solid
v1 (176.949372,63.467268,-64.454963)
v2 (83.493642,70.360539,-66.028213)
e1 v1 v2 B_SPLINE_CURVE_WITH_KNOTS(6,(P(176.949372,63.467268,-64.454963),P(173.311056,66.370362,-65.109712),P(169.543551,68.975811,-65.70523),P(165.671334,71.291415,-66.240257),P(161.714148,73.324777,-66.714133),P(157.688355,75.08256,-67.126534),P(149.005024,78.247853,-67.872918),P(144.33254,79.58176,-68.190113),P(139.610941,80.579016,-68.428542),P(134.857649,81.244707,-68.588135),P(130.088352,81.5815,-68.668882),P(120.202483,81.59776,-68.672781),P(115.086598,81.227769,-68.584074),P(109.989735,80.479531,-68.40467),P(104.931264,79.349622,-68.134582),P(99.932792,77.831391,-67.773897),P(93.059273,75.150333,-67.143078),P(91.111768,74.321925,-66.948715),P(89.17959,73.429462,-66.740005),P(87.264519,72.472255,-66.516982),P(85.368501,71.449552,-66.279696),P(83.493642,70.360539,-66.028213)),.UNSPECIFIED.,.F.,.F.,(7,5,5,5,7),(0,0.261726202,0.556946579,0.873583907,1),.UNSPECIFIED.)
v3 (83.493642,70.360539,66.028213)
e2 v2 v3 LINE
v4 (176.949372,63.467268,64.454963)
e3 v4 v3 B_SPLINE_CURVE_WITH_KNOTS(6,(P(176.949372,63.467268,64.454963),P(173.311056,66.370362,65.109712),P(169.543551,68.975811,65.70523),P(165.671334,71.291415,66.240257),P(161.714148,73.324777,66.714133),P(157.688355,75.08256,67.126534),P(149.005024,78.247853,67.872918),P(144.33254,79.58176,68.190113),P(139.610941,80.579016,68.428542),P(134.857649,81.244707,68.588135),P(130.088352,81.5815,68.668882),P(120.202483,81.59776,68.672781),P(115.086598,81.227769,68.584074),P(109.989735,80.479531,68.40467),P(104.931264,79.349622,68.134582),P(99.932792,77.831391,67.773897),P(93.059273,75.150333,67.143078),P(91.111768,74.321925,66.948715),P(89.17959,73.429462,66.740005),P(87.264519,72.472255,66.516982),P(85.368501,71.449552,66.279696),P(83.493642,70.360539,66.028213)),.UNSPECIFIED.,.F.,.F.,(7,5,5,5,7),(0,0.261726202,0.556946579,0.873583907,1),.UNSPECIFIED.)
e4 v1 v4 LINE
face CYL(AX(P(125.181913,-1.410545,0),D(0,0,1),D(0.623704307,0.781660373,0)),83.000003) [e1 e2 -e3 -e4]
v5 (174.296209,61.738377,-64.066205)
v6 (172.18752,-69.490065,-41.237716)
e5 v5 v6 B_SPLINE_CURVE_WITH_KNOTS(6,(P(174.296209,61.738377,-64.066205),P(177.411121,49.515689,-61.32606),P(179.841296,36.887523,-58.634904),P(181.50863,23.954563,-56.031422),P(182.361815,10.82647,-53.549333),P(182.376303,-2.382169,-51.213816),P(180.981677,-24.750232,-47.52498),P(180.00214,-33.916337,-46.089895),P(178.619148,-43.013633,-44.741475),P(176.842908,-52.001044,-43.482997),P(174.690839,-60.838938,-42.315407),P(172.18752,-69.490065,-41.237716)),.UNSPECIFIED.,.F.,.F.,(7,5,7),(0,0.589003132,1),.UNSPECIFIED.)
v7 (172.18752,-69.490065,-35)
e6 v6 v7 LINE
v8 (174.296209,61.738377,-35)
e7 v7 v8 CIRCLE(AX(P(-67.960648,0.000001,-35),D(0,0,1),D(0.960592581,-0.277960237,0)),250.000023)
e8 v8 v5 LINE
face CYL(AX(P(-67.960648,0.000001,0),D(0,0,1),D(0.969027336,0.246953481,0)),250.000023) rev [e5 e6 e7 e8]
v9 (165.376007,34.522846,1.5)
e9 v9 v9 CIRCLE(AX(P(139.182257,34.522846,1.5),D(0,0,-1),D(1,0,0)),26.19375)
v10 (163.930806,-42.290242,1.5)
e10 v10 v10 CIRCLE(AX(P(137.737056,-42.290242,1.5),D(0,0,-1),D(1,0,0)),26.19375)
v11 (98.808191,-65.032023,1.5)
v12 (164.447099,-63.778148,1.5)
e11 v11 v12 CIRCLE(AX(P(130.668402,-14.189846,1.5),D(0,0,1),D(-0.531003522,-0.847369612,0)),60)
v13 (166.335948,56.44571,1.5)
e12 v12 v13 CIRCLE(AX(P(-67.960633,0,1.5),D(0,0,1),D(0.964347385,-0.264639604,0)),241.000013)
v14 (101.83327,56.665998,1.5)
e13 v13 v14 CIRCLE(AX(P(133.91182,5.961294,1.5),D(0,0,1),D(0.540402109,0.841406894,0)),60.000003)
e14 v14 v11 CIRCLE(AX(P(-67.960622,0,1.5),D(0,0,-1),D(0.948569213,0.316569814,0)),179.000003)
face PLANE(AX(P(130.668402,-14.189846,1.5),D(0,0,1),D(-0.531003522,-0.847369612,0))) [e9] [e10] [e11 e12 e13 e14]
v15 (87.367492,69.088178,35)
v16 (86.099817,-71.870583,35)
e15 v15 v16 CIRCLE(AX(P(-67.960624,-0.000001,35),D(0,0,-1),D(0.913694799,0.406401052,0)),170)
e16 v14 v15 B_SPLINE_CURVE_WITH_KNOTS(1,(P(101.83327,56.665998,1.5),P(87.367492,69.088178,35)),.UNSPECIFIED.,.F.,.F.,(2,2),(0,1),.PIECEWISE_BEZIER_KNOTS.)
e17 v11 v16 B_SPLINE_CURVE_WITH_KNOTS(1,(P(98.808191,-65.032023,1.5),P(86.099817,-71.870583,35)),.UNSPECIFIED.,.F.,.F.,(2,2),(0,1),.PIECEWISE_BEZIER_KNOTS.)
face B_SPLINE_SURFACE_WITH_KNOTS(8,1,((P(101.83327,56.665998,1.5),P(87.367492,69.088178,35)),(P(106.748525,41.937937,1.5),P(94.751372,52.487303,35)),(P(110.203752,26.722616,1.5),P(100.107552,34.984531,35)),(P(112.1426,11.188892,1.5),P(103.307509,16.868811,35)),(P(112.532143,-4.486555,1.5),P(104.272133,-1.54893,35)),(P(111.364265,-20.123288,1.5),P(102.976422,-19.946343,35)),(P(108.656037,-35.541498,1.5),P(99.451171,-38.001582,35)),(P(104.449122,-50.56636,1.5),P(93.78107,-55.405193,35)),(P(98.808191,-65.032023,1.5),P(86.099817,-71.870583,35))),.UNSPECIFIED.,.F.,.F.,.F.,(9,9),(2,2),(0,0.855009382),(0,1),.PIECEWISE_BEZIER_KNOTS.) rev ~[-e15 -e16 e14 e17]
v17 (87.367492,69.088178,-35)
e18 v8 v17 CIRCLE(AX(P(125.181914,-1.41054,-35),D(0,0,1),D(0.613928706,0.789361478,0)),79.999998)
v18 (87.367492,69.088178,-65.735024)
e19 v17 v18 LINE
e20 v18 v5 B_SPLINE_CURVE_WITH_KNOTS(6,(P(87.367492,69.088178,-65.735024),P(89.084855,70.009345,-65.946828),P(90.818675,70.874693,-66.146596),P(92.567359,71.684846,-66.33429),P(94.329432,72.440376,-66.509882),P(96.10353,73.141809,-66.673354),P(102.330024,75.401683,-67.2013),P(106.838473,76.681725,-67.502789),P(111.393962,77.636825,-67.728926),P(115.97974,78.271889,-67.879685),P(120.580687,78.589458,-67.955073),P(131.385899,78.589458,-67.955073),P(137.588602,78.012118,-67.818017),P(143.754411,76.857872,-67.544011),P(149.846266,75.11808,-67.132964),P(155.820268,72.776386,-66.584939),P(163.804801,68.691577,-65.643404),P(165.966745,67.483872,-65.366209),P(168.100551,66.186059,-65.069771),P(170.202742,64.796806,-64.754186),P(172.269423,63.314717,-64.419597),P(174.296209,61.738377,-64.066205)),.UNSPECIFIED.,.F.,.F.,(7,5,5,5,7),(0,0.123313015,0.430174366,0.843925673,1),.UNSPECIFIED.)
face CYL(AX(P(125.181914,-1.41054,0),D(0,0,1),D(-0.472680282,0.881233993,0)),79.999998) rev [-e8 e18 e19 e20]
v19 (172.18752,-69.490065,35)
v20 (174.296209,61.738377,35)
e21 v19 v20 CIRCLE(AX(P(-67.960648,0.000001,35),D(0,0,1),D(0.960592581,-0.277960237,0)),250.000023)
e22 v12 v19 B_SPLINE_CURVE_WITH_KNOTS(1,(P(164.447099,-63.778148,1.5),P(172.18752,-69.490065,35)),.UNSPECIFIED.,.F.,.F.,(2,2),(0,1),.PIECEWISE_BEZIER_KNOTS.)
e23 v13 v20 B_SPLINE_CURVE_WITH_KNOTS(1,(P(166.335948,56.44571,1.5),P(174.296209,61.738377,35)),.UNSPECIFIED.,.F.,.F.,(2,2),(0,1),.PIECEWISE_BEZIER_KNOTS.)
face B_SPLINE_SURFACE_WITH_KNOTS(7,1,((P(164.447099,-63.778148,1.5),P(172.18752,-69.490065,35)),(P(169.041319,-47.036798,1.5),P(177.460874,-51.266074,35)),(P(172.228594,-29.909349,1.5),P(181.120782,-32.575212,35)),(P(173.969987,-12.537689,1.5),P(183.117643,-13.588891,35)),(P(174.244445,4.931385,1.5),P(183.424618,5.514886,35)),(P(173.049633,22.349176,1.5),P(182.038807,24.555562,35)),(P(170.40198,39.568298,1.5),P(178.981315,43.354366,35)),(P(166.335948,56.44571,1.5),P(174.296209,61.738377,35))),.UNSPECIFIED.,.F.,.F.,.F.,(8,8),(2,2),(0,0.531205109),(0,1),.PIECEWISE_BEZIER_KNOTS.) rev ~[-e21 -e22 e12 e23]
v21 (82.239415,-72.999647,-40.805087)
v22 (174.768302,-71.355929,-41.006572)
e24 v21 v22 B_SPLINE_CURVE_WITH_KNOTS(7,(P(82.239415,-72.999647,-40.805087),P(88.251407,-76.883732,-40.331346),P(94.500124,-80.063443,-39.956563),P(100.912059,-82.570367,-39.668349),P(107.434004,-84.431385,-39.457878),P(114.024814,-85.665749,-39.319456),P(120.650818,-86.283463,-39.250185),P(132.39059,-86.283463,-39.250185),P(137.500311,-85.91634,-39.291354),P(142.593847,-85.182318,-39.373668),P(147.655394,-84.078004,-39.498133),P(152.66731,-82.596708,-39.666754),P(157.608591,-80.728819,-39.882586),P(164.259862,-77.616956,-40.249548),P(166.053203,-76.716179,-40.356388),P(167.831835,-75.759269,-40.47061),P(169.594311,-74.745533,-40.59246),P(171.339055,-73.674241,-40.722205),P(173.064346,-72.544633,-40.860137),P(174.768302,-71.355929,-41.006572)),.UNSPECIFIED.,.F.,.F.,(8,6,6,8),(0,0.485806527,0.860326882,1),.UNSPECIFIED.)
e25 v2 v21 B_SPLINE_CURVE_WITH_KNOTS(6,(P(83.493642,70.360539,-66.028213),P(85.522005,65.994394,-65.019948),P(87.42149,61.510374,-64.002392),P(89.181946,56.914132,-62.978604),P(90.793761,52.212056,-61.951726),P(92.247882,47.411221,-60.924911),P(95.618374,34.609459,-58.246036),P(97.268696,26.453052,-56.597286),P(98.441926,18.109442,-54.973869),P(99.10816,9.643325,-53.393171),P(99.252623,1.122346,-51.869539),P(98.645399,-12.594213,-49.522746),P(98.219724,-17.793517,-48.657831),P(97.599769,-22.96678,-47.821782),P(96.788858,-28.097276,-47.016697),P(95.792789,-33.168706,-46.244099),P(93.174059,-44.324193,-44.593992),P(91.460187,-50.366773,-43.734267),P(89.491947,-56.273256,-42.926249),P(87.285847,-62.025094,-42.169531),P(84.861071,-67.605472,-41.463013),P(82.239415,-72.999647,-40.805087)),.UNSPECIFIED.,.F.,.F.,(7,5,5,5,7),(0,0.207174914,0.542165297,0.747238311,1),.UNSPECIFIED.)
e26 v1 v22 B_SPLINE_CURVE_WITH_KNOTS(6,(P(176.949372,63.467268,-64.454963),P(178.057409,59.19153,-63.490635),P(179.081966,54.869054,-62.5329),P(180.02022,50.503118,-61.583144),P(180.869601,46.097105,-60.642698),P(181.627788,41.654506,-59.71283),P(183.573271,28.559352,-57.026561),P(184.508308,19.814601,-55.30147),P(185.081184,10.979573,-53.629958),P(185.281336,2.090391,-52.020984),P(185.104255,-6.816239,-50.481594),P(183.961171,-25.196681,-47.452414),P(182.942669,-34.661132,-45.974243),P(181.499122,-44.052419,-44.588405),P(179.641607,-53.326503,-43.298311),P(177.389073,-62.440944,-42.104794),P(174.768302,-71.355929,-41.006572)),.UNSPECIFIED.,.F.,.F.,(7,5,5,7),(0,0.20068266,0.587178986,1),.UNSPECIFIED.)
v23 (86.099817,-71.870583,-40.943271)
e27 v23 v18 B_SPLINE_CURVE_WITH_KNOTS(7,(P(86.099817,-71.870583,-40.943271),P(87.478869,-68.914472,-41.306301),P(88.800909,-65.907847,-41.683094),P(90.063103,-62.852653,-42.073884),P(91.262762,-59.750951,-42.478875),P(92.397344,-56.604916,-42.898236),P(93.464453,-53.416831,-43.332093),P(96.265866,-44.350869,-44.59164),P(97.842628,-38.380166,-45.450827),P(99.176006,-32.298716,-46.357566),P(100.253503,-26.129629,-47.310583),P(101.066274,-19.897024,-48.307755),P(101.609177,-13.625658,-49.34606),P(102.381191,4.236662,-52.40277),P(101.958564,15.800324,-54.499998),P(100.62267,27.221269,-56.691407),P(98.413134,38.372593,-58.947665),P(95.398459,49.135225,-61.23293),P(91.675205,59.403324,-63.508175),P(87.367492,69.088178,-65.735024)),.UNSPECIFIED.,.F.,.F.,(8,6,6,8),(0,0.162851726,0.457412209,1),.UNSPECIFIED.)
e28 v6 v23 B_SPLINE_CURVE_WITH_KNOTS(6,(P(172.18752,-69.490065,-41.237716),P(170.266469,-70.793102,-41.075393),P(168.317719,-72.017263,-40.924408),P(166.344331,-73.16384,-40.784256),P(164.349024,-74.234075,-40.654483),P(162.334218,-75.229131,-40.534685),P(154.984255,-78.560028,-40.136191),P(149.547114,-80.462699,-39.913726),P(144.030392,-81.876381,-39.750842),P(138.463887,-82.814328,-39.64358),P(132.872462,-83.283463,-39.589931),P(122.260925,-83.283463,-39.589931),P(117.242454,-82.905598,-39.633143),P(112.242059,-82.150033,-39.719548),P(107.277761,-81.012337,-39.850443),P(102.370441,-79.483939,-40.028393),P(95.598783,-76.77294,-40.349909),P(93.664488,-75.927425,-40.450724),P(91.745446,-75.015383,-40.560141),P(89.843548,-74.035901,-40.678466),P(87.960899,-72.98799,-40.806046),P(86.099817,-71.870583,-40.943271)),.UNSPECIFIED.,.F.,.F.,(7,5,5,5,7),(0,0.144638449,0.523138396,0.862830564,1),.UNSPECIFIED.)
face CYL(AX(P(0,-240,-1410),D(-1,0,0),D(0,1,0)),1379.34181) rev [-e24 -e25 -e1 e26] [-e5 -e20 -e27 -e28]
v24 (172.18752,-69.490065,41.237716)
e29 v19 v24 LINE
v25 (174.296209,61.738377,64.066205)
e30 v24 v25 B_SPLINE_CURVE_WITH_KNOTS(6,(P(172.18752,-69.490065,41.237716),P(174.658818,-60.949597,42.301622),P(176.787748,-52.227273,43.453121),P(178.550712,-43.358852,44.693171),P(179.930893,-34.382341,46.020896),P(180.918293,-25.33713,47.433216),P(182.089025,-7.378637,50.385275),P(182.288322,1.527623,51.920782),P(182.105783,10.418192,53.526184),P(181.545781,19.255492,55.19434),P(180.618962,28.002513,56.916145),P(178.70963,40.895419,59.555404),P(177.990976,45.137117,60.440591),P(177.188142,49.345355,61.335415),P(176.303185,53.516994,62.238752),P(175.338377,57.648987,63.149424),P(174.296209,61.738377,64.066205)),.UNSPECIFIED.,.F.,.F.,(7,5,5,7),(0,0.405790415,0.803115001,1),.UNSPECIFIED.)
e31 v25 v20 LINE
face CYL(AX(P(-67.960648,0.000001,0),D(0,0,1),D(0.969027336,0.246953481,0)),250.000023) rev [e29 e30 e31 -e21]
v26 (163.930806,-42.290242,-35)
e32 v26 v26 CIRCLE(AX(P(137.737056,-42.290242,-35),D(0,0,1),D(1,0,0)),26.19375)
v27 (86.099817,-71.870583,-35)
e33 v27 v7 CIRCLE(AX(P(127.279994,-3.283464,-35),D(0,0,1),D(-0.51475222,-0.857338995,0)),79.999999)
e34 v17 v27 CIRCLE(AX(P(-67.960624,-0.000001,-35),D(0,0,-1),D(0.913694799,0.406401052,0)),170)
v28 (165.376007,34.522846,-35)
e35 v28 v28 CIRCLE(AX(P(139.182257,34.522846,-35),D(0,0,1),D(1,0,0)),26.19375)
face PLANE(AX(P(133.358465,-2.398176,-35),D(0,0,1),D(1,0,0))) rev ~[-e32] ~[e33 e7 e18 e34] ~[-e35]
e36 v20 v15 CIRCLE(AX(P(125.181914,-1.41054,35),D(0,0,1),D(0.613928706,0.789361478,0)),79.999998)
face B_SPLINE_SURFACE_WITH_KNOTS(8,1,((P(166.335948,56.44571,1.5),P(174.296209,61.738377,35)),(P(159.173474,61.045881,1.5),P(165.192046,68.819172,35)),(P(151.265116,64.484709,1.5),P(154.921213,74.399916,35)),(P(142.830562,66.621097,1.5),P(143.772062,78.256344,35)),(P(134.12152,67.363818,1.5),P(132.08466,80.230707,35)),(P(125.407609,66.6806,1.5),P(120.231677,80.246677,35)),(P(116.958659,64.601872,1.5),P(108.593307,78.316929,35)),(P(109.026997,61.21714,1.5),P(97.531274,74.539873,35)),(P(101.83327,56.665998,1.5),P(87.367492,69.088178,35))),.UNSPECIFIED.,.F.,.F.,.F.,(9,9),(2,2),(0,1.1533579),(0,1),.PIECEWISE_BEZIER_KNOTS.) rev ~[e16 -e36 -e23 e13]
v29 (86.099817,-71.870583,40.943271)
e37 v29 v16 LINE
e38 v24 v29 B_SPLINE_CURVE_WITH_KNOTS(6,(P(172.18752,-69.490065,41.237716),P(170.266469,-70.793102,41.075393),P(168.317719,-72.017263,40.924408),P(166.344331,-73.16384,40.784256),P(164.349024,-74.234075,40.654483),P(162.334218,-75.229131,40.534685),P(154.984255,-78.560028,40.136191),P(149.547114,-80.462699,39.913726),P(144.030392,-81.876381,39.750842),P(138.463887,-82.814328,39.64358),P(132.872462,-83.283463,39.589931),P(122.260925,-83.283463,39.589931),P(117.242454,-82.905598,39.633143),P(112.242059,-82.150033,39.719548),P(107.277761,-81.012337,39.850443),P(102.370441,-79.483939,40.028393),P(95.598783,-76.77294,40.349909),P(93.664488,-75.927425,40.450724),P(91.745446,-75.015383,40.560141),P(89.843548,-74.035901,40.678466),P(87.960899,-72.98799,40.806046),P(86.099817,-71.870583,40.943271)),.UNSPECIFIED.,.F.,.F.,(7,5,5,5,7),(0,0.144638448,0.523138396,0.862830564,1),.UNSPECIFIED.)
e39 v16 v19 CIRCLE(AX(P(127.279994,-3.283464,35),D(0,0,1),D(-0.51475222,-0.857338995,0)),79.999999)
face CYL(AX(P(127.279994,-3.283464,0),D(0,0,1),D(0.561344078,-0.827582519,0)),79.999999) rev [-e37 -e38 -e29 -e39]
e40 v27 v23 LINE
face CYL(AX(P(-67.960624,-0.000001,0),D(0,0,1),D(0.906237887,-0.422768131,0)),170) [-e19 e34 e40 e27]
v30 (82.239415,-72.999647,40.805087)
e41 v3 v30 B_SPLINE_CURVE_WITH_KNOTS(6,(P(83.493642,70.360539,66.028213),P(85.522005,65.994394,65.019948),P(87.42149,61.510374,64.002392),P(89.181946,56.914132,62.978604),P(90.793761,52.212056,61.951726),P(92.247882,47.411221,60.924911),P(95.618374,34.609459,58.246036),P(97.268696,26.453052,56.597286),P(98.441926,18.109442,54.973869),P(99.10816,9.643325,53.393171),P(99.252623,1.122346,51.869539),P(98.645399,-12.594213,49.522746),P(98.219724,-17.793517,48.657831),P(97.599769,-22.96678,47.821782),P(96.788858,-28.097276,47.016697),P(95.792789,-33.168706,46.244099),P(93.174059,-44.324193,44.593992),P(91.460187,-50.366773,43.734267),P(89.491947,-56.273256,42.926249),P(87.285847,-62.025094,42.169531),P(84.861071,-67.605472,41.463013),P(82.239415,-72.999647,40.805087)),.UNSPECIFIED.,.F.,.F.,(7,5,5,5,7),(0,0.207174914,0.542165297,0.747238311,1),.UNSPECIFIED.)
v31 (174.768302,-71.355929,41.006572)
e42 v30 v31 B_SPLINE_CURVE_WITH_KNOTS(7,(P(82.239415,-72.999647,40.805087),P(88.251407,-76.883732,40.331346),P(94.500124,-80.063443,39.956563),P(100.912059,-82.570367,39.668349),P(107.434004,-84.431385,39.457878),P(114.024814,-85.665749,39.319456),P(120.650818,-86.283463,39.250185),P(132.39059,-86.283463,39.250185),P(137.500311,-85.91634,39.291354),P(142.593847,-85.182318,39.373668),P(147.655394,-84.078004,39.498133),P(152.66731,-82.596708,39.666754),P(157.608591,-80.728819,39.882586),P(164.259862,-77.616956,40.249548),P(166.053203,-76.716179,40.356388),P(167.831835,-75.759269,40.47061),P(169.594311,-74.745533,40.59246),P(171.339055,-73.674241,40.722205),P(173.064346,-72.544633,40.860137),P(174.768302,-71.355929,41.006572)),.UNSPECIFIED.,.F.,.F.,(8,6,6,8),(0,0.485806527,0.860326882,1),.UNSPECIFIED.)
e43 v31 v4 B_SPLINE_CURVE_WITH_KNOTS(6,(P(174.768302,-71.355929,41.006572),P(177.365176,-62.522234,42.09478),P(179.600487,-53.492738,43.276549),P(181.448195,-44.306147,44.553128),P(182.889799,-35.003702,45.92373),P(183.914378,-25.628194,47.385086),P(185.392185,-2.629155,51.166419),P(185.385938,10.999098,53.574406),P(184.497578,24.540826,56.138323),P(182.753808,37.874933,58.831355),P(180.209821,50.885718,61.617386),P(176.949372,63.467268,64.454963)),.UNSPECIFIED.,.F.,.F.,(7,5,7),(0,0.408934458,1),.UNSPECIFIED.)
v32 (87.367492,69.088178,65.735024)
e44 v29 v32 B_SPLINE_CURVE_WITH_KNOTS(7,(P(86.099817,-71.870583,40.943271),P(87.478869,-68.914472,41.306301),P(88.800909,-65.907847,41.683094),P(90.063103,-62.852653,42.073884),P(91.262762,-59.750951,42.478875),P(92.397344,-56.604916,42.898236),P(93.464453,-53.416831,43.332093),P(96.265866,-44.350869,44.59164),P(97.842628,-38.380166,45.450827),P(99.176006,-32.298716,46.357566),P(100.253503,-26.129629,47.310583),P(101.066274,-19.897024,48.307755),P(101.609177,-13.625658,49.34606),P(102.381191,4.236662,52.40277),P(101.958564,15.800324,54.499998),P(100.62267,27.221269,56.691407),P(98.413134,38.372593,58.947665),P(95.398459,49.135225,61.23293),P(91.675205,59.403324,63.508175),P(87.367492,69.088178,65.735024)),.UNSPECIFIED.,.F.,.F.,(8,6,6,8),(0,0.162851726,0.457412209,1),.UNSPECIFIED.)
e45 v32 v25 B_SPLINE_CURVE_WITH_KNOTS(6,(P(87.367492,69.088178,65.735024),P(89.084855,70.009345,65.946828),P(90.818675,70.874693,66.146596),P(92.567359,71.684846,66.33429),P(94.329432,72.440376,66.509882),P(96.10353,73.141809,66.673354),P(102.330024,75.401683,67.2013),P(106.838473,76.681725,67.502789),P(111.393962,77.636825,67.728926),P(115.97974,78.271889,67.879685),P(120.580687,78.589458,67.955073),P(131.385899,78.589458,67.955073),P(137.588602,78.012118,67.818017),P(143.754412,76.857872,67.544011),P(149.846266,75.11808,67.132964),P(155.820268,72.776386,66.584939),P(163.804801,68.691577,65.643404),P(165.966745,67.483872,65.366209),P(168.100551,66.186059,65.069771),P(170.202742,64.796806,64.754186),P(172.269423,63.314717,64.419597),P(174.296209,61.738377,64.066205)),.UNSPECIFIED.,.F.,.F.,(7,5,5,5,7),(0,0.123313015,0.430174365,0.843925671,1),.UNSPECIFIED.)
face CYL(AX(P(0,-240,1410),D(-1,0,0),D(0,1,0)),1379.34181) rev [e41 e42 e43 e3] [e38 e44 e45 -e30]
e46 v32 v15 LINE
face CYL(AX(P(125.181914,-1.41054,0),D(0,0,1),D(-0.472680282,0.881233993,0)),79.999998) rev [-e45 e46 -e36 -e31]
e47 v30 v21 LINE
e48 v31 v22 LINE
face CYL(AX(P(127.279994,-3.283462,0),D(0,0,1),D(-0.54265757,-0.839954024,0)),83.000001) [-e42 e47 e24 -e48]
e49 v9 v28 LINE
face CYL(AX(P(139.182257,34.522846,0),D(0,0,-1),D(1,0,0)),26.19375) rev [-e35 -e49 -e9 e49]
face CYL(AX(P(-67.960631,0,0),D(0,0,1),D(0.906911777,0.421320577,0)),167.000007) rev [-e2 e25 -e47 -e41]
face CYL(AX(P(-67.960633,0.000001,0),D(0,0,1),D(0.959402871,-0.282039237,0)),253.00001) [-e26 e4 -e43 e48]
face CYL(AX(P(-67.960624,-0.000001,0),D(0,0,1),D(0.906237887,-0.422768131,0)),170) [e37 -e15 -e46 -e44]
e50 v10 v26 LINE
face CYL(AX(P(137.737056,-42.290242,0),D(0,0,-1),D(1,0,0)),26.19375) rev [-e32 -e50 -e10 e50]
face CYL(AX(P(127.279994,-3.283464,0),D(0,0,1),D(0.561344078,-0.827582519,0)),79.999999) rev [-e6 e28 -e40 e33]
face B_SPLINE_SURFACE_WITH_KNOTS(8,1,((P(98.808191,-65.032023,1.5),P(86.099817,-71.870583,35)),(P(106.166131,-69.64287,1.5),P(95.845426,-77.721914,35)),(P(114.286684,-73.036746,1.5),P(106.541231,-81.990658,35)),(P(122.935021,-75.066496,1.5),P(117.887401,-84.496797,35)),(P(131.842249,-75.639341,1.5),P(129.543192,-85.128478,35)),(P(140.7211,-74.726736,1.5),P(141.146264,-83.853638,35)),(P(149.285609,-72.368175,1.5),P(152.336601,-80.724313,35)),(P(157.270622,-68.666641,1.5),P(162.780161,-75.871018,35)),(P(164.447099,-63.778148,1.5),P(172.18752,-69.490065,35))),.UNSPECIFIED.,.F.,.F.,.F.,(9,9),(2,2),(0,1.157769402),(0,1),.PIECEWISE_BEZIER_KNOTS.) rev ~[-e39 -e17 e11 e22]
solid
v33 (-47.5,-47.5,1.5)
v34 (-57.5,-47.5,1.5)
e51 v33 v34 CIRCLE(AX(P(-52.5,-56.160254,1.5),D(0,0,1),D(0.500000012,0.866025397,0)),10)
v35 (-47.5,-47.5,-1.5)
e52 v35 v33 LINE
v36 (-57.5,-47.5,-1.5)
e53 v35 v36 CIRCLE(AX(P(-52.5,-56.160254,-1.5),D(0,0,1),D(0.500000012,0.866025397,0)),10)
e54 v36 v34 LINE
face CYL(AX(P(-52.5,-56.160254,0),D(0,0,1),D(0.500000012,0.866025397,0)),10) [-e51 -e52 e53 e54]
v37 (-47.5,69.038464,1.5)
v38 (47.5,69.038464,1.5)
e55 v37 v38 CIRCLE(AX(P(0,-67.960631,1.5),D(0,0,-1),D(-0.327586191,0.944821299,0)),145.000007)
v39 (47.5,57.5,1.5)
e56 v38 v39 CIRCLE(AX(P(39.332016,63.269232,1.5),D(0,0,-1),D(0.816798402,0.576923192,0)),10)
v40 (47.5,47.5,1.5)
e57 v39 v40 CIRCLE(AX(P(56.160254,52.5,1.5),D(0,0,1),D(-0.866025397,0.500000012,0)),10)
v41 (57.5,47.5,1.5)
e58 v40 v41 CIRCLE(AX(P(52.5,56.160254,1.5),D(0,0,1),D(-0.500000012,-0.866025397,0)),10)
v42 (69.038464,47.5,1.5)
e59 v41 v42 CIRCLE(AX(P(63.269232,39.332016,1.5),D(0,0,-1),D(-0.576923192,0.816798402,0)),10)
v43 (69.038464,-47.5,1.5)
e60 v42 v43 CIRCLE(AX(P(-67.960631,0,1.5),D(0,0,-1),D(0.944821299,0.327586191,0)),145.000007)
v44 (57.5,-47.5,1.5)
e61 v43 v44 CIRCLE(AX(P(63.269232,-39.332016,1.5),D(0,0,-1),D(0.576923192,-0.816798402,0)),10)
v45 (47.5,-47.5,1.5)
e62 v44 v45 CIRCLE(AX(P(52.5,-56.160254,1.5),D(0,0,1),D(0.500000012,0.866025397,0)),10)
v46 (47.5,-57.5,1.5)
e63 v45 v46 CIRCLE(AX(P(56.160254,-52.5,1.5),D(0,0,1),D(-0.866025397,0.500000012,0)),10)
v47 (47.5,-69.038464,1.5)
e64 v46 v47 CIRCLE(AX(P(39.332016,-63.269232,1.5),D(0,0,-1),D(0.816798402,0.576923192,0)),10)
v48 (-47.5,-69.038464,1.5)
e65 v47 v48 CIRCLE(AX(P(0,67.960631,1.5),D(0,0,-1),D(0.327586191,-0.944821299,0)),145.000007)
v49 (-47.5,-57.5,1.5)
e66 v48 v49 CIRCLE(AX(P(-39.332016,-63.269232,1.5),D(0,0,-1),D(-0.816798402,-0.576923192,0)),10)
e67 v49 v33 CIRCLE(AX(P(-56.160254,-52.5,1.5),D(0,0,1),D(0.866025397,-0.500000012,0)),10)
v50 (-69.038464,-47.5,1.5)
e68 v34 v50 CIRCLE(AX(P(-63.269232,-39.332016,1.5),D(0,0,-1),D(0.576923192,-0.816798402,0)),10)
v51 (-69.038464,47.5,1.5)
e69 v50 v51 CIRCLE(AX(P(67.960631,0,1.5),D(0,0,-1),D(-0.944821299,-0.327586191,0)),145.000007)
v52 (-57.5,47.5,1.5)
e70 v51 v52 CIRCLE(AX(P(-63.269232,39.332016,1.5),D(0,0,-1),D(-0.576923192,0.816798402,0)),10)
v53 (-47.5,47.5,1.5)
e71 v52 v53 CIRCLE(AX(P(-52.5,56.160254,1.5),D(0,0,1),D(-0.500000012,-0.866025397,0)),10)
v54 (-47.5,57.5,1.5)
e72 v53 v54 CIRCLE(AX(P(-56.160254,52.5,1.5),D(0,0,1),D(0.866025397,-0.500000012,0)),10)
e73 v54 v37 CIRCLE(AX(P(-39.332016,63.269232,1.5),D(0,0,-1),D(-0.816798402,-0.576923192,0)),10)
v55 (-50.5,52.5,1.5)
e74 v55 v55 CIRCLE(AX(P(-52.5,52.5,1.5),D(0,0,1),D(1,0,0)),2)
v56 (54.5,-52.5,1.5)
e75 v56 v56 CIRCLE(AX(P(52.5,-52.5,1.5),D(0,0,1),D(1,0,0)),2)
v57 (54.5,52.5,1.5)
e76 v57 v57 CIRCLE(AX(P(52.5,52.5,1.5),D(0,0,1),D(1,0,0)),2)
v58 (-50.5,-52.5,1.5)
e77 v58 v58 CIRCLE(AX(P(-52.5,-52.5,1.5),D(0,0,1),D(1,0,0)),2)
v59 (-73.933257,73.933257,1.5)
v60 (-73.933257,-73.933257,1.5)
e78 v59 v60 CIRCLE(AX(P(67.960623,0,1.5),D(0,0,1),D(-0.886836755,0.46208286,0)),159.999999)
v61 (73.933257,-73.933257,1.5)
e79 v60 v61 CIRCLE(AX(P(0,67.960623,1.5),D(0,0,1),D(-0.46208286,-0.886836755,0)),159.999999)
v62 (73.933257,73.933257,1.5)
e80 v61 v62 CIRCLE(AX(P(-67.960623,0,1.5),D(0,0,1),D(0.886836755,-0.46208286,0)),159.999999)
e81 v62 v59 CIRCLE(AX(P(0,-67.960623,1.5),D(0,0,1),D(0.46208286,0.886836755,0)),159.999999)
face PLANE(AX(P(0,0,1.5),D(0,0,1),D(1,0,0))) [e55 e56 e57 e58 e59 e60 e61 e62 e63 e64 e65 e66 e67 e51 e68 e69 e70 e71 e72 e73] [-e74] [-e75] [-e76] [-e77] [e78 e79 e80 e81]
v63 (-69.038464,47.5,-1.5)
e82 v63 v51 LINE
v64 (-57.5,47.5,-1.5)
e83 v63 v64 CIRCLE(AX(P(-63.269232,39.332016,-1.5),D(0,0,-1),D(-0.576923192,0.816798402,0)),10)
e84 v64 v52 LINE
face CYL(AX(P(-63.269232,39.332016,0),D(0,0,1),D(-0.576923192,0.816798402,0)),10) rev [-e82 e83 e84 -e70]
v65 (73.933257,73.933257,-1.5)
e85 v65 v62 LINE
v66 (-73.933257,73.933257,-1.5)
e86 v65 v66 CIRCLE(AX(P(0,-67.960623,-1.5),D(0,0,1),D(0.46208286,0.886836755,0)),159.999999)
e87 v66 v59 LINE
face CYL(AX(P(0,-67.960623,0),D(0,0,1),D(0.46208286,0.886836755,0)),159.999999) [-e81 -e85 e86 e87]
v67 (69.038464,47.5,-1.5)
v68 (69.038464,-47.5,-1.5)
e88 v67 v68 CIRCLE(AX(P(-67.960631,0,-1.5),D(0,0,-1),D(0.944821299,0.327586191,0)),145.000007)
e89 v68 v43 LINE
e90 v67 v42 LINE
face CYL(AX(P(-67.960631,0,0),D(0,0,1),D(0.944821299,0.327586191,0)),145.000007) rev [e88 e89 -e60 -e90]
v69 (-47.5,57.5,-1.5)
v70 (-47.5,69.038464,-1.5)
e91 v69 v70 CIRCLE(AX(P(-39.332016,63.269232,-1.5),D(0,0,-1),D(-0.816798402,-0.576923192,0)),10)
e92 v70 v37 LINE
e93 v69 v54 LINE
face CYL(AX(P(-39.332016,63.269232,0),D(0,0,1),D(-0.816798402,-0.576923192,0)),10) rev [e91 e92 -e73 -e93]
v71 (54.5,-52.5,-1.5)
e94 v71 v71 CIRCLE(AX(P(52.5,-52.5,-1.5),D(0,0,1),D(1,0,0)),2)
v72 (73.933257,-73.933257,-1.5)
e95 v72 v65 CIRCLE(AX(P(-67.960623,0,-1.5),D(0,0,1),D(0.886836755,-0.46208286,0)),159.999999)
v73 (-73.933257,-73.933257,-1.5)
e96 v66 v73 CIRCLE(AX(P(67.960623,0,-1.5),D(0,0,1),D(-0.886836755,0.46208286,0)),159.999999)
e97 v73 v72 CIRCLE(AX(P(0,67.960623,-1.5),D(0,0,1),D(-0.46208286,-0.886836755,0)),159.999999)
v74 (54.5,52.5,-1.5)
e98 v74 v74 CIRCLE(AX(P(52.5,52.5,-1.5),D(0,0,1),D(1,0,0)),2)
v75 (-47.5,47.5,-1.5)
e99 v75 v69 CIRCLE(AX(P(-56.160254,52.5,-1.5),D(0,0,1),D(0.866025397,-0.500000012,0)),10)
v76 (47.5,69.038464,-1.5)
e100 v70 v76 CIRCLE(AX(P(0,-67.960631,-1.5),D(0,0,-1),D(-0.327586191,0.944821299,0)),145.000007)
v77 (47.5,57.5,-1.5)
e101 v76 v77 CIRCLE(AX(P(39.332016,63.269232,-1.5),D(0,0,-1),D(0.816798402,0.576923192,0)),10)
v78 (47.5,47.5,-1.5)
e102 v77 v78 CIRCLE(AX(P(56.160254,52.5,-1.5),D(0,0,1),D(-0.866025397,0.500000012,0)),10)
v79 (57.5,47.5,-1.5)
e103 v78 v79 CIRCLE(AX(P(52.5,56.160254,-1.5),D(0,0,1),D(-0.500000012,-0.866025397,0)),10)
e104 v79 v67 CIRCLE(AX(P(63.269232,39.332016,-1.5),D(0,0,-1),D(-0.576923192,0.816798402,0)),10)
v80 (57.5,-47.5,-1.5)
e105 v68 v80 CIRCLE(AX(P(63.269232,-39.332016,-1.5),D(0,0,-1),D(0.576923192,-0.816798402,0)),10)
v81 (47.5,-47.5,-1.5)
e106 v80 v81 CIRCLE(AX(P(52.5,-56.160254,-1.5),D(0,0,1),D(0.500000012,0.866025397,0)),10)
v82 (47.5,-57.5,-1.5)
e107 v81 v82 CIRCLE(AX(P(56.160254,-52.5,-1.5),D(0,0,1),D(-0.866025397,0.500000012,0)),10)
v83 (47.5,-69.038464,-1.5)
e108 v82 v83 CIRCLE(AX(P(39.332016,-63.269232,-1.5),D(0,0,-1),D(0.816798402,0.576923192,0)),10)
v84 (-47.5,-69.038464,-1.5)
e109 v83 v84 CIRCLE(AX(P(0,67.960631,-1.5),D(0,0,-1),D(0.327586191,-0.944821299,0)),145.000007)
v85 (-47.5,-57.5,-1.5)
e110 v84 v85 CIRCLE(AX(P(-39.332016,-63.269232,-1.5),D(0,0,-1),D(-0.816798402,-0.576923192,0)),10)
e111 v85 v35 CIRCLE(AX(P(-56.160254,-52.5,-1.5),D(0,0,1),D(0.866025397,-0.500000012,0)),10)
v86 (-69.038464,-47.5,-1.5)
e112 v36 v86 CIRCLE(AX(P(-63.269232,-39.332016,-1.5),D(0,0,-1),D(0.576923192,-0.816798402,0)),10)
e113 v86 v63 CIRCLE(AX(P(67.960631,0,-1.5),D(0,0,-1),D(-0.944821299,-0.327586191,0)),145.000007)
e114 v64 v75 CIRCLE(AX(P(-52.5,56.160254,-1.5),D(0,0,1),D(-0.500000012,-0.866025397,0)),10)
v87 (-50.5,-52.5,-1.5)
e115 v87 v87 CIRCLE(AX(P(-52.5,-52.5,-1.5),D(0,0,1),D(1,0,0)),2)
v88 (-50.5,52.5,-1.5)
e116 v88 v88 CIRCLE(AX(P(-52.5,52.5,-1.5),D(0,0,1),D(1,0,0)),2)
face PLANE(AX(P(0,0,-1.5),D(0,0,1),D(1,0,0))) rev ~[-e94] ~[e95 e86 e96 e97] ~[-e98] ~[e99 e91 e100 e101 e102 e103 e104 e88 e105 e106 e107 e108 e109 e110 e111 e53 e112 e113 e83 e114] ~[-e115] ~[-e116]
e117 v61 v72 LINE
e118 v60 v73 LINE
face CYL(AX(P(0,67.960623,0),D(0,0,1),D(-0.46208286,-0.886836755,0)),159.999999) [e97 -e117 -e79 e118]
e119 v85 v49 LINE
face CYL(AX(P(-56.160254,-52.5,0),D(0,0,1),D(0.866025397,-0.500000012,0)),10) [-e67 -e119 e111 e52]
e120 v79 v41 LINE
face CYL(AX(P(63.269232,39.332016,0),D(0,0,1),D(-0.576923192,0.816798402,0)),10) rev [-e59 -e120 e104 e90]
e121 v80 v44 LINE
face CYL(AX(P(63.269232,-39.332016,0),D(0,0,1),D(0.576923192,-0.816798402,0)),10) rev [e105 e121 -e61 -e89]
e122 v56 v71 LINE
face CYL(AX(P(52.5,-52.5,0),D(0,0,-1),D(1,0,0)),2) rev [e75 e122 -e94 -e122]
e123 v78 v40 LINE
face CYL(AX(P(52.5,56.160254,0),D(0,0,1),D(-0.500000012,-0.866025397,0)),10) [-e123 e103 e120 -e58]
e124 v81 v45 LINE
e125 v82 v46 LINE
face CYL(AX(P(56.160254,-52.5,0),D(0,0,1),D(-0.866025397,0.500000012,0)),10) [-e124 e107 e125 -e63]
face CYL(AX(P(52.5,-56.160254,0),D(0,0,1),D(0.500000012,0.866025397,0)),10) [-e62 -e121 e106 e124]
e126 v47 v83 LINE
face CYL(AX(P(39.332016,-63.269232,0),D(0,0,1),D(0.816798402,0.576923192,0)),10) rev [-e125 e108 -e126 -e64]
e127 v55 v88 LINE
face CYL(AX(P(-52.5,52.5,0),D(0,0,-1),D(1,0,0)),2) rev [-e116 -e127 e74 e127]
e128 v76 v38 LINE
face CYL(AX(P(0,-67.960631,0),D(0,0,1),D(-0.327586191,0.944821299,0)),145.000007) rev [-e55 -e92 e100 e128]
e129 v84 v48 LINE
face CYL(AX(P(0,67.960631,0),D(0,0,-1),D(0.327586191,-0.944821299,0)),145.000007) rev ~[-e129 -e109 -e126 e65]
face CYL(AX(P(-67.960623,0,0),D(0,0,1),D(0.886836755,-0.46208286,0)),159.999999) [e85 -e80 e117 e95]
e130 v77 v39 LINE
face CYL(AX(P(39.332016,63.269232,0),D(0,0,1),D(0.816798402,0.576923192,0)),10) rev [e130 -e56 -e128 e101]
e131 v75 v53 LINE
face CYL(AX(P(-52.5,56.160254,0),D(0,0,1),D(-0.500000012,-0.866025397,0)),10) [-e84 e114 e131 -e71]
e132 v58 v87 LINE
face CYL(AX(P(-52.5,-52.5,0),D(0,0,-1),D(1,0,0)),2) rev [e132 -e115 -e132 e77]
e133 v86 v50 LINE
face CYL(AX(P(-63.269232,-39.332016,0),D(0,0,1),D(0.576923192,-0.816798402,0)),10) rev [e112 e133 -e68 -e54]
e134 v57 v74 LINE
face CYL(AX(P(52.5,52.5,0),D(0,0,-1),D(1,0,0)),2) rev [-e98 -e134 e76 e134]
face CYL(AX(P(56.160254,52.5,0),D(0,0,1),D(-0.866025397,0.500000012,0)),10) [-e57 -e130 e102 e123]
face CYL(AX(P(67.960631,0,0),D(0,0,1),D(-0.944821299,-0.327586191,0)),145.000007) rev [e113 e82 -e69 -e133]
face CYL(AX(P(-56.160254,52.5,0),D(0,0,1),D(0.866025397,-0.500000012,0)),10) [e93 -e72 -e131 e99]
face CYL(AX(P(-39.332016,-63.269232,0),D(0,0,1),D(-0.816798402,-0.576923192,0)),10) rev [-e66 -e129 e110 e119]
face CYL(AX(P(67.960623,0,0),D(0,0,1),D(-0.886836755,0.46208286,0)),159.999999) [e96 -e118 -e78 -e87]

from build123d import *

# Parameters (mm, degrees)
F0_R     = 2
F1_DEPTH = 1.5
F3_DEPTH = 70
F4_R     = 1379.34181
F5_DEPTH = 1210
F2_R     = 31.19375
F2_R_2   = 26.19375
F6_DEPTH = 35


with BuildPart() as f1:
    # F0 (on Top) → F1 (new body, symmetric)
    with BuildSketch(Plane.XY):
        with BuildLine():
            ThreePointArc((73.933257, -73.933257), (92.039376, 0), (73.933257, 73.933257))
            ThreePointArc((73.933257, 73.933257), (0, 92.039376), (-73.933257, 73.933257))
            ThreePointArc((-73.933257, 73.933257), (-92.039376, 0), (-73.933257, -73.933257))
            ThreePointArc((-73.933257, -73.933257), (0, -92.039376), (73.933257, -73.933257))
        make_face()
        with BuildLine():
            ThreePointArc((47.5, 69.038464), (55.217238, 66.114193), (62.755609, 62.755609))
            ThreePointArc((62.755609, 62.755609), (66.114193, 55.217238), (69.038464, 47.5))
            ThreePointArc((69.038464, 47.5), (77.039376, 0), (69.038464, -47.5))
            ThreePointArc((69.038464, -47.5), (66.114193, -55.217238), (62.755609, -62.755609))
            ThreePointArc((62.755609, -62.755609), (55.217238, -66.114193), (47.5, -69.038464))
            ThreePointArc((47.5, -69.038464), (0, -77.039376), (-47.5, -69.038464))
            ThreePointArc((-47.5, -69.038464), (-55.217238, -66.114193), (-62.755609, -62.755609))
            ThreePointArc((-62.755609, -62.755609), (-66.114193, -55.217238), (-69.038464, -47.5))
            ThreePointArc((-69.038464, -47.5), (-77.039376, 0), (-69.038464, 47.5))
            ThreePointArc((-69.038464, 47.5), (-66.114193, 55.217238), (-62.755609, 62.755609))
            ThreePointArc((-62.755609, 62.755609), (-55.217238, 66.114193), (-47.5, 69.038464))
            ThreePointArc((-47.5, 69.038464), (0, 77.039376), (47.5, 69.038464))
        make_face(mode=Mode.SUBTRACT)
        with BuildLine():
            ThreePointArc((-47.5, 57.5), (-49.332016, 63.269232), (-47.5, 69.038464))
            ThreePointArc((-47.5, 69.038464), (-55.217238, 66.114193), (-62.755609, 62.755609))
            ThreePointArc((-62.755609, 62.755609), (-66.114193, 55.217238), (-69.038464, 47.5))
            ThreePointArc((-69.038464, 47.5), (-63.269232, 49.332016), (-57.5, 47.5))
            ThreePointArc((-57.5, 47.5), (-58.839746, 52.5), (-57.5, 57.5))
            ThreePointArc((-57.5, 57.5), (-52.5, 58.839746), (-47.5, 57.5))
        make_face()
        with BuildLine():
            ThreePointArc((-47.5, 47.5), (-46.160254, 52.5), (-47.5, 57.5))
            ThreePointArc((-47.5, 57.5), (-52.5, 58.839746), (-57.5, 57.5))
            ThreePointArc((-57.5, 57.5), (-58.839746, 52.5), (-57.5, 47.5))
            ThreePointArc((-57.5, 47.5), (-52.5, 46.160254), (-47.5, 47.5))
        make_face()
        with Locations((-52.5, 52.5)):
            Circle(F0_R, mode=Mode.SUBTRACT)
        with BuildLine():
            ThreePointArc((69.038464, 47.5), (66.114193, 55.217238), (62.755609, 62.755609))
            ThreePointArc((62.755609, 62.755609), (55.217238, 66.114193), (47.5, 69.038464))
            ThreePointArc((47.5, 69.038464), (49.332016, 63.269232), (47.5, 57.5))
            ThreePointArc((47.5, 57.5), (52.5, 58.839746), (57.5, 57.5))
            ThreePointArc((57.5, 57.5), (58.839746, 52.5), (57.5, 47.5))
            ThreePointArc((57.5, 47.5), (63.269232, 49.332016), (69.038464, 47.5))
        make_face()
        with BuildLine():
            ThreePointArc((57.5, 57.5), (52.5, 58.839746), (47.5, 57.5))
            ThreePointArc((47.5, 57.5), (46.160254, 52.5), (47.5, 47.5))
            ThreePointArc((47.5, 47.5), (52.5, 46.160254), (57.5, 47.5))
            ThreePointArc((57.5, 47.5), (58.839746, 52.5), (57.5, 57.5))
        make_face()
        with Locations((52.5, 52.5)):
            Circle(F0_R, mode=Mode.SUBTRACT)
        with BuildLine():
            ThreePointArc((62.755609, -62.755609), (66.114193, -55.217238), (69.038464, -47.5))
            ThreePointArc((69.038464, -47.5), (63.269232, -49.332016), (57.5, -47.5))
            ThreePointArc((57.5, -47.5), (58.839746, -52.5), (57.5, -57.5))
            ThreePointArc((57.5, -57.5), (52.5, -58.839746), (47.5, -57.5))
            ThreePointArc((47.5, -57.5), (49.332016, -63.269232), (47.5, -69.038464))
            ThreePointArc((47.5, -69.038464), (55.217238, -66.114193), (62.755609, -62.755609))
        make_face()
        with BuildLine():
            ThreePointArc((57.5, -57.5), (58.839746, -52.5), (57.5, -47.5))
            ThreePointArc((57.5, -47.5), (52.5, -46.160254), (47.5, -47.5))
            ThreePointArc((47.5, -47.5), (46.160254, -52.5), (47.5, -57.5))
            ThreePointArc((47.5, -57.5), (52.5, -58.839746), (57.5, -57.5))
        make_face()
        with Locations((52.5, -52.5)):
            Circle(F0_R, mode=Mode.SUBTRACT)
        with BuildLine():
            ThreePointArc((-57.5, -47.5), (-63.269232, -49.332016), (-69.038464, -47.5))
            ThreePointArc((-69.038464, -47.5), (-66.114193, -55.217238), (-62.755609, -62.755609))
            ThreePointArc((-62.755609, -62.755609), (-55.217238, -66.114193), (-47.5, -69.038464))
            ThreePointArc((-47.5, -69.038464), (-49.332016, -63.269232), (-47.5, -57.5))
            ThreePointArc((-47.5, -57.5), (-52.5, -58.839746), (-57.5, -57.5))
            ThreePointArc((-57.5, -57.5), (-58.839746, -52.5), (-57.5, -47.5))
        make_face()
        with BuildLine():
            ThreePointArc((-47.5, -47.5), (-52.5, -46.160254), (-57.5, -47.5))
            ThreePointArc((-57.5, -47.5), (-58.839746, -52.5), (-57.5, -57.5))
            ThreePointArc((-57.5, -57.5), (-52.5, -58.839746), (-47.5, -57.5))
            ThreePointArc((-47.5, -57.5), (-46.160254, -52.5), (-47.5, -47.5))
        make_face()
        with Locations((-52.5, -52.5)):
            Circle(F0_R, mode=Mode.SUBTRACT)
    extrude(amount=F1_DEPTH, both=True)


with BuildPart() as f3:
    # F2 (on Top) → F3 (new body, symmetric)
    with BuildSketch(Plane.XY):
        with BuildLine():
            ThreePointArc((174.768302, -71.355929), (185.006277, -4.092311), (176.949372, 63.467268))
            ThreePointArc((176.949372, 63.467268), (131.287386, 81.364594), (83.493642, 70.360539))
            ThreePointArc((83.493642, 70.360539), (99.032985, -1.460991), (82.239415, -72.999647))
            ThreePointArc((82.239415, -72.999647), (128.754204, -86.27037), (174.768302, -71.355929))
        make_face()
        with BuildLine():
            ThreePointArc((172.18752, -69.490065), (129.491328, -83.252895), (86.099817, -71.870583))
            ThreePointArc((86.099817, -71.870583), (102.032502, -1.528788), (87.367492, 69.088178))
            ThreePointArc((87.367492, 69.088178), (131.921845, 78.305036), (174.296209, 61.738377))
            ThreePointArc((174.296209, 61.738377), (182.007106, -4.016691), (172.18752, -69.490065))
        make_face(mode=Mode.SUBTRACT)
    extrude(amount=F3_DEPTH, both=True)

    # F4 (on Right) → F5 (cut)
    with BuildSketch(Plane.YZ):
        with Locations((-240, 1410)):
            Circle(F4_R)
        with Locations((-240, -1410)):
            Circle(F4_R)
    extrude(amount=F5_DEPTH, mode=Mode.SUBTRACT)

    # F2 (on Top) → F6 (join, symmetric)
    with BuildSketch(Plane.XY):
        with BuildLine():
            ThreePointArc((87.367492, 69.088178), (102.032502, -1.528788), (86.099817, -71.870583))
            ThreePointArc((86.099817, -71.870583), (129.491328, -83.252895), (172.18752, -69.490065))
            ThreePointArc((172.18752, -69.490065), (182.007106, -4.016691), (174.296209, 61.738377))
            ThreePointArc((174.296209, 61.738377), (131.921845, 78.305036), (87.367492, 69.088178))
        make_face()
        with Locations((137.737056, -42.290242)):
            Circle(F2_R, mode=Mode.SUBTRACT)
        with Locations((139.182257, 34.522846)):
            Circle(F2_R, mode=Mode.SUBTRACT)
        with Locations((139.182257, 34.522846)):
            Circle(F2_R)
        with Locations((139.182257, 34.522846)):
            Circle(F2_R_2, mode=Mode.SUBTRACT)
        with Locations((137.737056, -42.290242)):
            Circle(F2_R)
        with Locations((137.737056, -42.290242)):
            Circle(F2_R_2, mode=Mode.SUBTRACT)
    extrude(amount=F6_DEPTH, both=True)

    # F9 (on offset) → F10 section 0
    with BuildSketch(Plane.XY.offset(1.5)):
        with BuildLine():
            ThreePointArc((98.808191, -65.032023), (131.814351, -74.178902), (164.447099, -63.778148))
            ThreePointArc((164.447099, -63.778148), (173.009641, -3.785908), (166.335948, 56.44571))
            ThreePointArc((166.335948, 56.44571), (134.116729, 65.960947), (101.83327, 56.665998))
            ThreePointArc((101.83327, 56.665998), (110.984106, -4.448075), (98.808191, -65.032023))
        make_face()
    # F7 (on face) → F10 section 1
    with BuildSketch(Plane.XY.offset(35)):
        with BuildLine():
            ThreePointArc((172.18752, -69.490065), (182.007106, -4.016691), (174.296209, 61.738377))
            ThreePointArc((174.296209, 61.738377), (131.921845, 78.305036), (87.367492, 69.088178))
            ThreePointArc((87.367492, 69.088178), (102.032502, -1.528788), (86.099817, -71.870583))
            ThreePointArc((86.099817, -71.870583), (129.491328, -83.252895), (172.18752, -69.490065))
        make_face()
    loft(mode=Mode.SUBTRACT)


solid = Compound([f1.part, f3.part])
